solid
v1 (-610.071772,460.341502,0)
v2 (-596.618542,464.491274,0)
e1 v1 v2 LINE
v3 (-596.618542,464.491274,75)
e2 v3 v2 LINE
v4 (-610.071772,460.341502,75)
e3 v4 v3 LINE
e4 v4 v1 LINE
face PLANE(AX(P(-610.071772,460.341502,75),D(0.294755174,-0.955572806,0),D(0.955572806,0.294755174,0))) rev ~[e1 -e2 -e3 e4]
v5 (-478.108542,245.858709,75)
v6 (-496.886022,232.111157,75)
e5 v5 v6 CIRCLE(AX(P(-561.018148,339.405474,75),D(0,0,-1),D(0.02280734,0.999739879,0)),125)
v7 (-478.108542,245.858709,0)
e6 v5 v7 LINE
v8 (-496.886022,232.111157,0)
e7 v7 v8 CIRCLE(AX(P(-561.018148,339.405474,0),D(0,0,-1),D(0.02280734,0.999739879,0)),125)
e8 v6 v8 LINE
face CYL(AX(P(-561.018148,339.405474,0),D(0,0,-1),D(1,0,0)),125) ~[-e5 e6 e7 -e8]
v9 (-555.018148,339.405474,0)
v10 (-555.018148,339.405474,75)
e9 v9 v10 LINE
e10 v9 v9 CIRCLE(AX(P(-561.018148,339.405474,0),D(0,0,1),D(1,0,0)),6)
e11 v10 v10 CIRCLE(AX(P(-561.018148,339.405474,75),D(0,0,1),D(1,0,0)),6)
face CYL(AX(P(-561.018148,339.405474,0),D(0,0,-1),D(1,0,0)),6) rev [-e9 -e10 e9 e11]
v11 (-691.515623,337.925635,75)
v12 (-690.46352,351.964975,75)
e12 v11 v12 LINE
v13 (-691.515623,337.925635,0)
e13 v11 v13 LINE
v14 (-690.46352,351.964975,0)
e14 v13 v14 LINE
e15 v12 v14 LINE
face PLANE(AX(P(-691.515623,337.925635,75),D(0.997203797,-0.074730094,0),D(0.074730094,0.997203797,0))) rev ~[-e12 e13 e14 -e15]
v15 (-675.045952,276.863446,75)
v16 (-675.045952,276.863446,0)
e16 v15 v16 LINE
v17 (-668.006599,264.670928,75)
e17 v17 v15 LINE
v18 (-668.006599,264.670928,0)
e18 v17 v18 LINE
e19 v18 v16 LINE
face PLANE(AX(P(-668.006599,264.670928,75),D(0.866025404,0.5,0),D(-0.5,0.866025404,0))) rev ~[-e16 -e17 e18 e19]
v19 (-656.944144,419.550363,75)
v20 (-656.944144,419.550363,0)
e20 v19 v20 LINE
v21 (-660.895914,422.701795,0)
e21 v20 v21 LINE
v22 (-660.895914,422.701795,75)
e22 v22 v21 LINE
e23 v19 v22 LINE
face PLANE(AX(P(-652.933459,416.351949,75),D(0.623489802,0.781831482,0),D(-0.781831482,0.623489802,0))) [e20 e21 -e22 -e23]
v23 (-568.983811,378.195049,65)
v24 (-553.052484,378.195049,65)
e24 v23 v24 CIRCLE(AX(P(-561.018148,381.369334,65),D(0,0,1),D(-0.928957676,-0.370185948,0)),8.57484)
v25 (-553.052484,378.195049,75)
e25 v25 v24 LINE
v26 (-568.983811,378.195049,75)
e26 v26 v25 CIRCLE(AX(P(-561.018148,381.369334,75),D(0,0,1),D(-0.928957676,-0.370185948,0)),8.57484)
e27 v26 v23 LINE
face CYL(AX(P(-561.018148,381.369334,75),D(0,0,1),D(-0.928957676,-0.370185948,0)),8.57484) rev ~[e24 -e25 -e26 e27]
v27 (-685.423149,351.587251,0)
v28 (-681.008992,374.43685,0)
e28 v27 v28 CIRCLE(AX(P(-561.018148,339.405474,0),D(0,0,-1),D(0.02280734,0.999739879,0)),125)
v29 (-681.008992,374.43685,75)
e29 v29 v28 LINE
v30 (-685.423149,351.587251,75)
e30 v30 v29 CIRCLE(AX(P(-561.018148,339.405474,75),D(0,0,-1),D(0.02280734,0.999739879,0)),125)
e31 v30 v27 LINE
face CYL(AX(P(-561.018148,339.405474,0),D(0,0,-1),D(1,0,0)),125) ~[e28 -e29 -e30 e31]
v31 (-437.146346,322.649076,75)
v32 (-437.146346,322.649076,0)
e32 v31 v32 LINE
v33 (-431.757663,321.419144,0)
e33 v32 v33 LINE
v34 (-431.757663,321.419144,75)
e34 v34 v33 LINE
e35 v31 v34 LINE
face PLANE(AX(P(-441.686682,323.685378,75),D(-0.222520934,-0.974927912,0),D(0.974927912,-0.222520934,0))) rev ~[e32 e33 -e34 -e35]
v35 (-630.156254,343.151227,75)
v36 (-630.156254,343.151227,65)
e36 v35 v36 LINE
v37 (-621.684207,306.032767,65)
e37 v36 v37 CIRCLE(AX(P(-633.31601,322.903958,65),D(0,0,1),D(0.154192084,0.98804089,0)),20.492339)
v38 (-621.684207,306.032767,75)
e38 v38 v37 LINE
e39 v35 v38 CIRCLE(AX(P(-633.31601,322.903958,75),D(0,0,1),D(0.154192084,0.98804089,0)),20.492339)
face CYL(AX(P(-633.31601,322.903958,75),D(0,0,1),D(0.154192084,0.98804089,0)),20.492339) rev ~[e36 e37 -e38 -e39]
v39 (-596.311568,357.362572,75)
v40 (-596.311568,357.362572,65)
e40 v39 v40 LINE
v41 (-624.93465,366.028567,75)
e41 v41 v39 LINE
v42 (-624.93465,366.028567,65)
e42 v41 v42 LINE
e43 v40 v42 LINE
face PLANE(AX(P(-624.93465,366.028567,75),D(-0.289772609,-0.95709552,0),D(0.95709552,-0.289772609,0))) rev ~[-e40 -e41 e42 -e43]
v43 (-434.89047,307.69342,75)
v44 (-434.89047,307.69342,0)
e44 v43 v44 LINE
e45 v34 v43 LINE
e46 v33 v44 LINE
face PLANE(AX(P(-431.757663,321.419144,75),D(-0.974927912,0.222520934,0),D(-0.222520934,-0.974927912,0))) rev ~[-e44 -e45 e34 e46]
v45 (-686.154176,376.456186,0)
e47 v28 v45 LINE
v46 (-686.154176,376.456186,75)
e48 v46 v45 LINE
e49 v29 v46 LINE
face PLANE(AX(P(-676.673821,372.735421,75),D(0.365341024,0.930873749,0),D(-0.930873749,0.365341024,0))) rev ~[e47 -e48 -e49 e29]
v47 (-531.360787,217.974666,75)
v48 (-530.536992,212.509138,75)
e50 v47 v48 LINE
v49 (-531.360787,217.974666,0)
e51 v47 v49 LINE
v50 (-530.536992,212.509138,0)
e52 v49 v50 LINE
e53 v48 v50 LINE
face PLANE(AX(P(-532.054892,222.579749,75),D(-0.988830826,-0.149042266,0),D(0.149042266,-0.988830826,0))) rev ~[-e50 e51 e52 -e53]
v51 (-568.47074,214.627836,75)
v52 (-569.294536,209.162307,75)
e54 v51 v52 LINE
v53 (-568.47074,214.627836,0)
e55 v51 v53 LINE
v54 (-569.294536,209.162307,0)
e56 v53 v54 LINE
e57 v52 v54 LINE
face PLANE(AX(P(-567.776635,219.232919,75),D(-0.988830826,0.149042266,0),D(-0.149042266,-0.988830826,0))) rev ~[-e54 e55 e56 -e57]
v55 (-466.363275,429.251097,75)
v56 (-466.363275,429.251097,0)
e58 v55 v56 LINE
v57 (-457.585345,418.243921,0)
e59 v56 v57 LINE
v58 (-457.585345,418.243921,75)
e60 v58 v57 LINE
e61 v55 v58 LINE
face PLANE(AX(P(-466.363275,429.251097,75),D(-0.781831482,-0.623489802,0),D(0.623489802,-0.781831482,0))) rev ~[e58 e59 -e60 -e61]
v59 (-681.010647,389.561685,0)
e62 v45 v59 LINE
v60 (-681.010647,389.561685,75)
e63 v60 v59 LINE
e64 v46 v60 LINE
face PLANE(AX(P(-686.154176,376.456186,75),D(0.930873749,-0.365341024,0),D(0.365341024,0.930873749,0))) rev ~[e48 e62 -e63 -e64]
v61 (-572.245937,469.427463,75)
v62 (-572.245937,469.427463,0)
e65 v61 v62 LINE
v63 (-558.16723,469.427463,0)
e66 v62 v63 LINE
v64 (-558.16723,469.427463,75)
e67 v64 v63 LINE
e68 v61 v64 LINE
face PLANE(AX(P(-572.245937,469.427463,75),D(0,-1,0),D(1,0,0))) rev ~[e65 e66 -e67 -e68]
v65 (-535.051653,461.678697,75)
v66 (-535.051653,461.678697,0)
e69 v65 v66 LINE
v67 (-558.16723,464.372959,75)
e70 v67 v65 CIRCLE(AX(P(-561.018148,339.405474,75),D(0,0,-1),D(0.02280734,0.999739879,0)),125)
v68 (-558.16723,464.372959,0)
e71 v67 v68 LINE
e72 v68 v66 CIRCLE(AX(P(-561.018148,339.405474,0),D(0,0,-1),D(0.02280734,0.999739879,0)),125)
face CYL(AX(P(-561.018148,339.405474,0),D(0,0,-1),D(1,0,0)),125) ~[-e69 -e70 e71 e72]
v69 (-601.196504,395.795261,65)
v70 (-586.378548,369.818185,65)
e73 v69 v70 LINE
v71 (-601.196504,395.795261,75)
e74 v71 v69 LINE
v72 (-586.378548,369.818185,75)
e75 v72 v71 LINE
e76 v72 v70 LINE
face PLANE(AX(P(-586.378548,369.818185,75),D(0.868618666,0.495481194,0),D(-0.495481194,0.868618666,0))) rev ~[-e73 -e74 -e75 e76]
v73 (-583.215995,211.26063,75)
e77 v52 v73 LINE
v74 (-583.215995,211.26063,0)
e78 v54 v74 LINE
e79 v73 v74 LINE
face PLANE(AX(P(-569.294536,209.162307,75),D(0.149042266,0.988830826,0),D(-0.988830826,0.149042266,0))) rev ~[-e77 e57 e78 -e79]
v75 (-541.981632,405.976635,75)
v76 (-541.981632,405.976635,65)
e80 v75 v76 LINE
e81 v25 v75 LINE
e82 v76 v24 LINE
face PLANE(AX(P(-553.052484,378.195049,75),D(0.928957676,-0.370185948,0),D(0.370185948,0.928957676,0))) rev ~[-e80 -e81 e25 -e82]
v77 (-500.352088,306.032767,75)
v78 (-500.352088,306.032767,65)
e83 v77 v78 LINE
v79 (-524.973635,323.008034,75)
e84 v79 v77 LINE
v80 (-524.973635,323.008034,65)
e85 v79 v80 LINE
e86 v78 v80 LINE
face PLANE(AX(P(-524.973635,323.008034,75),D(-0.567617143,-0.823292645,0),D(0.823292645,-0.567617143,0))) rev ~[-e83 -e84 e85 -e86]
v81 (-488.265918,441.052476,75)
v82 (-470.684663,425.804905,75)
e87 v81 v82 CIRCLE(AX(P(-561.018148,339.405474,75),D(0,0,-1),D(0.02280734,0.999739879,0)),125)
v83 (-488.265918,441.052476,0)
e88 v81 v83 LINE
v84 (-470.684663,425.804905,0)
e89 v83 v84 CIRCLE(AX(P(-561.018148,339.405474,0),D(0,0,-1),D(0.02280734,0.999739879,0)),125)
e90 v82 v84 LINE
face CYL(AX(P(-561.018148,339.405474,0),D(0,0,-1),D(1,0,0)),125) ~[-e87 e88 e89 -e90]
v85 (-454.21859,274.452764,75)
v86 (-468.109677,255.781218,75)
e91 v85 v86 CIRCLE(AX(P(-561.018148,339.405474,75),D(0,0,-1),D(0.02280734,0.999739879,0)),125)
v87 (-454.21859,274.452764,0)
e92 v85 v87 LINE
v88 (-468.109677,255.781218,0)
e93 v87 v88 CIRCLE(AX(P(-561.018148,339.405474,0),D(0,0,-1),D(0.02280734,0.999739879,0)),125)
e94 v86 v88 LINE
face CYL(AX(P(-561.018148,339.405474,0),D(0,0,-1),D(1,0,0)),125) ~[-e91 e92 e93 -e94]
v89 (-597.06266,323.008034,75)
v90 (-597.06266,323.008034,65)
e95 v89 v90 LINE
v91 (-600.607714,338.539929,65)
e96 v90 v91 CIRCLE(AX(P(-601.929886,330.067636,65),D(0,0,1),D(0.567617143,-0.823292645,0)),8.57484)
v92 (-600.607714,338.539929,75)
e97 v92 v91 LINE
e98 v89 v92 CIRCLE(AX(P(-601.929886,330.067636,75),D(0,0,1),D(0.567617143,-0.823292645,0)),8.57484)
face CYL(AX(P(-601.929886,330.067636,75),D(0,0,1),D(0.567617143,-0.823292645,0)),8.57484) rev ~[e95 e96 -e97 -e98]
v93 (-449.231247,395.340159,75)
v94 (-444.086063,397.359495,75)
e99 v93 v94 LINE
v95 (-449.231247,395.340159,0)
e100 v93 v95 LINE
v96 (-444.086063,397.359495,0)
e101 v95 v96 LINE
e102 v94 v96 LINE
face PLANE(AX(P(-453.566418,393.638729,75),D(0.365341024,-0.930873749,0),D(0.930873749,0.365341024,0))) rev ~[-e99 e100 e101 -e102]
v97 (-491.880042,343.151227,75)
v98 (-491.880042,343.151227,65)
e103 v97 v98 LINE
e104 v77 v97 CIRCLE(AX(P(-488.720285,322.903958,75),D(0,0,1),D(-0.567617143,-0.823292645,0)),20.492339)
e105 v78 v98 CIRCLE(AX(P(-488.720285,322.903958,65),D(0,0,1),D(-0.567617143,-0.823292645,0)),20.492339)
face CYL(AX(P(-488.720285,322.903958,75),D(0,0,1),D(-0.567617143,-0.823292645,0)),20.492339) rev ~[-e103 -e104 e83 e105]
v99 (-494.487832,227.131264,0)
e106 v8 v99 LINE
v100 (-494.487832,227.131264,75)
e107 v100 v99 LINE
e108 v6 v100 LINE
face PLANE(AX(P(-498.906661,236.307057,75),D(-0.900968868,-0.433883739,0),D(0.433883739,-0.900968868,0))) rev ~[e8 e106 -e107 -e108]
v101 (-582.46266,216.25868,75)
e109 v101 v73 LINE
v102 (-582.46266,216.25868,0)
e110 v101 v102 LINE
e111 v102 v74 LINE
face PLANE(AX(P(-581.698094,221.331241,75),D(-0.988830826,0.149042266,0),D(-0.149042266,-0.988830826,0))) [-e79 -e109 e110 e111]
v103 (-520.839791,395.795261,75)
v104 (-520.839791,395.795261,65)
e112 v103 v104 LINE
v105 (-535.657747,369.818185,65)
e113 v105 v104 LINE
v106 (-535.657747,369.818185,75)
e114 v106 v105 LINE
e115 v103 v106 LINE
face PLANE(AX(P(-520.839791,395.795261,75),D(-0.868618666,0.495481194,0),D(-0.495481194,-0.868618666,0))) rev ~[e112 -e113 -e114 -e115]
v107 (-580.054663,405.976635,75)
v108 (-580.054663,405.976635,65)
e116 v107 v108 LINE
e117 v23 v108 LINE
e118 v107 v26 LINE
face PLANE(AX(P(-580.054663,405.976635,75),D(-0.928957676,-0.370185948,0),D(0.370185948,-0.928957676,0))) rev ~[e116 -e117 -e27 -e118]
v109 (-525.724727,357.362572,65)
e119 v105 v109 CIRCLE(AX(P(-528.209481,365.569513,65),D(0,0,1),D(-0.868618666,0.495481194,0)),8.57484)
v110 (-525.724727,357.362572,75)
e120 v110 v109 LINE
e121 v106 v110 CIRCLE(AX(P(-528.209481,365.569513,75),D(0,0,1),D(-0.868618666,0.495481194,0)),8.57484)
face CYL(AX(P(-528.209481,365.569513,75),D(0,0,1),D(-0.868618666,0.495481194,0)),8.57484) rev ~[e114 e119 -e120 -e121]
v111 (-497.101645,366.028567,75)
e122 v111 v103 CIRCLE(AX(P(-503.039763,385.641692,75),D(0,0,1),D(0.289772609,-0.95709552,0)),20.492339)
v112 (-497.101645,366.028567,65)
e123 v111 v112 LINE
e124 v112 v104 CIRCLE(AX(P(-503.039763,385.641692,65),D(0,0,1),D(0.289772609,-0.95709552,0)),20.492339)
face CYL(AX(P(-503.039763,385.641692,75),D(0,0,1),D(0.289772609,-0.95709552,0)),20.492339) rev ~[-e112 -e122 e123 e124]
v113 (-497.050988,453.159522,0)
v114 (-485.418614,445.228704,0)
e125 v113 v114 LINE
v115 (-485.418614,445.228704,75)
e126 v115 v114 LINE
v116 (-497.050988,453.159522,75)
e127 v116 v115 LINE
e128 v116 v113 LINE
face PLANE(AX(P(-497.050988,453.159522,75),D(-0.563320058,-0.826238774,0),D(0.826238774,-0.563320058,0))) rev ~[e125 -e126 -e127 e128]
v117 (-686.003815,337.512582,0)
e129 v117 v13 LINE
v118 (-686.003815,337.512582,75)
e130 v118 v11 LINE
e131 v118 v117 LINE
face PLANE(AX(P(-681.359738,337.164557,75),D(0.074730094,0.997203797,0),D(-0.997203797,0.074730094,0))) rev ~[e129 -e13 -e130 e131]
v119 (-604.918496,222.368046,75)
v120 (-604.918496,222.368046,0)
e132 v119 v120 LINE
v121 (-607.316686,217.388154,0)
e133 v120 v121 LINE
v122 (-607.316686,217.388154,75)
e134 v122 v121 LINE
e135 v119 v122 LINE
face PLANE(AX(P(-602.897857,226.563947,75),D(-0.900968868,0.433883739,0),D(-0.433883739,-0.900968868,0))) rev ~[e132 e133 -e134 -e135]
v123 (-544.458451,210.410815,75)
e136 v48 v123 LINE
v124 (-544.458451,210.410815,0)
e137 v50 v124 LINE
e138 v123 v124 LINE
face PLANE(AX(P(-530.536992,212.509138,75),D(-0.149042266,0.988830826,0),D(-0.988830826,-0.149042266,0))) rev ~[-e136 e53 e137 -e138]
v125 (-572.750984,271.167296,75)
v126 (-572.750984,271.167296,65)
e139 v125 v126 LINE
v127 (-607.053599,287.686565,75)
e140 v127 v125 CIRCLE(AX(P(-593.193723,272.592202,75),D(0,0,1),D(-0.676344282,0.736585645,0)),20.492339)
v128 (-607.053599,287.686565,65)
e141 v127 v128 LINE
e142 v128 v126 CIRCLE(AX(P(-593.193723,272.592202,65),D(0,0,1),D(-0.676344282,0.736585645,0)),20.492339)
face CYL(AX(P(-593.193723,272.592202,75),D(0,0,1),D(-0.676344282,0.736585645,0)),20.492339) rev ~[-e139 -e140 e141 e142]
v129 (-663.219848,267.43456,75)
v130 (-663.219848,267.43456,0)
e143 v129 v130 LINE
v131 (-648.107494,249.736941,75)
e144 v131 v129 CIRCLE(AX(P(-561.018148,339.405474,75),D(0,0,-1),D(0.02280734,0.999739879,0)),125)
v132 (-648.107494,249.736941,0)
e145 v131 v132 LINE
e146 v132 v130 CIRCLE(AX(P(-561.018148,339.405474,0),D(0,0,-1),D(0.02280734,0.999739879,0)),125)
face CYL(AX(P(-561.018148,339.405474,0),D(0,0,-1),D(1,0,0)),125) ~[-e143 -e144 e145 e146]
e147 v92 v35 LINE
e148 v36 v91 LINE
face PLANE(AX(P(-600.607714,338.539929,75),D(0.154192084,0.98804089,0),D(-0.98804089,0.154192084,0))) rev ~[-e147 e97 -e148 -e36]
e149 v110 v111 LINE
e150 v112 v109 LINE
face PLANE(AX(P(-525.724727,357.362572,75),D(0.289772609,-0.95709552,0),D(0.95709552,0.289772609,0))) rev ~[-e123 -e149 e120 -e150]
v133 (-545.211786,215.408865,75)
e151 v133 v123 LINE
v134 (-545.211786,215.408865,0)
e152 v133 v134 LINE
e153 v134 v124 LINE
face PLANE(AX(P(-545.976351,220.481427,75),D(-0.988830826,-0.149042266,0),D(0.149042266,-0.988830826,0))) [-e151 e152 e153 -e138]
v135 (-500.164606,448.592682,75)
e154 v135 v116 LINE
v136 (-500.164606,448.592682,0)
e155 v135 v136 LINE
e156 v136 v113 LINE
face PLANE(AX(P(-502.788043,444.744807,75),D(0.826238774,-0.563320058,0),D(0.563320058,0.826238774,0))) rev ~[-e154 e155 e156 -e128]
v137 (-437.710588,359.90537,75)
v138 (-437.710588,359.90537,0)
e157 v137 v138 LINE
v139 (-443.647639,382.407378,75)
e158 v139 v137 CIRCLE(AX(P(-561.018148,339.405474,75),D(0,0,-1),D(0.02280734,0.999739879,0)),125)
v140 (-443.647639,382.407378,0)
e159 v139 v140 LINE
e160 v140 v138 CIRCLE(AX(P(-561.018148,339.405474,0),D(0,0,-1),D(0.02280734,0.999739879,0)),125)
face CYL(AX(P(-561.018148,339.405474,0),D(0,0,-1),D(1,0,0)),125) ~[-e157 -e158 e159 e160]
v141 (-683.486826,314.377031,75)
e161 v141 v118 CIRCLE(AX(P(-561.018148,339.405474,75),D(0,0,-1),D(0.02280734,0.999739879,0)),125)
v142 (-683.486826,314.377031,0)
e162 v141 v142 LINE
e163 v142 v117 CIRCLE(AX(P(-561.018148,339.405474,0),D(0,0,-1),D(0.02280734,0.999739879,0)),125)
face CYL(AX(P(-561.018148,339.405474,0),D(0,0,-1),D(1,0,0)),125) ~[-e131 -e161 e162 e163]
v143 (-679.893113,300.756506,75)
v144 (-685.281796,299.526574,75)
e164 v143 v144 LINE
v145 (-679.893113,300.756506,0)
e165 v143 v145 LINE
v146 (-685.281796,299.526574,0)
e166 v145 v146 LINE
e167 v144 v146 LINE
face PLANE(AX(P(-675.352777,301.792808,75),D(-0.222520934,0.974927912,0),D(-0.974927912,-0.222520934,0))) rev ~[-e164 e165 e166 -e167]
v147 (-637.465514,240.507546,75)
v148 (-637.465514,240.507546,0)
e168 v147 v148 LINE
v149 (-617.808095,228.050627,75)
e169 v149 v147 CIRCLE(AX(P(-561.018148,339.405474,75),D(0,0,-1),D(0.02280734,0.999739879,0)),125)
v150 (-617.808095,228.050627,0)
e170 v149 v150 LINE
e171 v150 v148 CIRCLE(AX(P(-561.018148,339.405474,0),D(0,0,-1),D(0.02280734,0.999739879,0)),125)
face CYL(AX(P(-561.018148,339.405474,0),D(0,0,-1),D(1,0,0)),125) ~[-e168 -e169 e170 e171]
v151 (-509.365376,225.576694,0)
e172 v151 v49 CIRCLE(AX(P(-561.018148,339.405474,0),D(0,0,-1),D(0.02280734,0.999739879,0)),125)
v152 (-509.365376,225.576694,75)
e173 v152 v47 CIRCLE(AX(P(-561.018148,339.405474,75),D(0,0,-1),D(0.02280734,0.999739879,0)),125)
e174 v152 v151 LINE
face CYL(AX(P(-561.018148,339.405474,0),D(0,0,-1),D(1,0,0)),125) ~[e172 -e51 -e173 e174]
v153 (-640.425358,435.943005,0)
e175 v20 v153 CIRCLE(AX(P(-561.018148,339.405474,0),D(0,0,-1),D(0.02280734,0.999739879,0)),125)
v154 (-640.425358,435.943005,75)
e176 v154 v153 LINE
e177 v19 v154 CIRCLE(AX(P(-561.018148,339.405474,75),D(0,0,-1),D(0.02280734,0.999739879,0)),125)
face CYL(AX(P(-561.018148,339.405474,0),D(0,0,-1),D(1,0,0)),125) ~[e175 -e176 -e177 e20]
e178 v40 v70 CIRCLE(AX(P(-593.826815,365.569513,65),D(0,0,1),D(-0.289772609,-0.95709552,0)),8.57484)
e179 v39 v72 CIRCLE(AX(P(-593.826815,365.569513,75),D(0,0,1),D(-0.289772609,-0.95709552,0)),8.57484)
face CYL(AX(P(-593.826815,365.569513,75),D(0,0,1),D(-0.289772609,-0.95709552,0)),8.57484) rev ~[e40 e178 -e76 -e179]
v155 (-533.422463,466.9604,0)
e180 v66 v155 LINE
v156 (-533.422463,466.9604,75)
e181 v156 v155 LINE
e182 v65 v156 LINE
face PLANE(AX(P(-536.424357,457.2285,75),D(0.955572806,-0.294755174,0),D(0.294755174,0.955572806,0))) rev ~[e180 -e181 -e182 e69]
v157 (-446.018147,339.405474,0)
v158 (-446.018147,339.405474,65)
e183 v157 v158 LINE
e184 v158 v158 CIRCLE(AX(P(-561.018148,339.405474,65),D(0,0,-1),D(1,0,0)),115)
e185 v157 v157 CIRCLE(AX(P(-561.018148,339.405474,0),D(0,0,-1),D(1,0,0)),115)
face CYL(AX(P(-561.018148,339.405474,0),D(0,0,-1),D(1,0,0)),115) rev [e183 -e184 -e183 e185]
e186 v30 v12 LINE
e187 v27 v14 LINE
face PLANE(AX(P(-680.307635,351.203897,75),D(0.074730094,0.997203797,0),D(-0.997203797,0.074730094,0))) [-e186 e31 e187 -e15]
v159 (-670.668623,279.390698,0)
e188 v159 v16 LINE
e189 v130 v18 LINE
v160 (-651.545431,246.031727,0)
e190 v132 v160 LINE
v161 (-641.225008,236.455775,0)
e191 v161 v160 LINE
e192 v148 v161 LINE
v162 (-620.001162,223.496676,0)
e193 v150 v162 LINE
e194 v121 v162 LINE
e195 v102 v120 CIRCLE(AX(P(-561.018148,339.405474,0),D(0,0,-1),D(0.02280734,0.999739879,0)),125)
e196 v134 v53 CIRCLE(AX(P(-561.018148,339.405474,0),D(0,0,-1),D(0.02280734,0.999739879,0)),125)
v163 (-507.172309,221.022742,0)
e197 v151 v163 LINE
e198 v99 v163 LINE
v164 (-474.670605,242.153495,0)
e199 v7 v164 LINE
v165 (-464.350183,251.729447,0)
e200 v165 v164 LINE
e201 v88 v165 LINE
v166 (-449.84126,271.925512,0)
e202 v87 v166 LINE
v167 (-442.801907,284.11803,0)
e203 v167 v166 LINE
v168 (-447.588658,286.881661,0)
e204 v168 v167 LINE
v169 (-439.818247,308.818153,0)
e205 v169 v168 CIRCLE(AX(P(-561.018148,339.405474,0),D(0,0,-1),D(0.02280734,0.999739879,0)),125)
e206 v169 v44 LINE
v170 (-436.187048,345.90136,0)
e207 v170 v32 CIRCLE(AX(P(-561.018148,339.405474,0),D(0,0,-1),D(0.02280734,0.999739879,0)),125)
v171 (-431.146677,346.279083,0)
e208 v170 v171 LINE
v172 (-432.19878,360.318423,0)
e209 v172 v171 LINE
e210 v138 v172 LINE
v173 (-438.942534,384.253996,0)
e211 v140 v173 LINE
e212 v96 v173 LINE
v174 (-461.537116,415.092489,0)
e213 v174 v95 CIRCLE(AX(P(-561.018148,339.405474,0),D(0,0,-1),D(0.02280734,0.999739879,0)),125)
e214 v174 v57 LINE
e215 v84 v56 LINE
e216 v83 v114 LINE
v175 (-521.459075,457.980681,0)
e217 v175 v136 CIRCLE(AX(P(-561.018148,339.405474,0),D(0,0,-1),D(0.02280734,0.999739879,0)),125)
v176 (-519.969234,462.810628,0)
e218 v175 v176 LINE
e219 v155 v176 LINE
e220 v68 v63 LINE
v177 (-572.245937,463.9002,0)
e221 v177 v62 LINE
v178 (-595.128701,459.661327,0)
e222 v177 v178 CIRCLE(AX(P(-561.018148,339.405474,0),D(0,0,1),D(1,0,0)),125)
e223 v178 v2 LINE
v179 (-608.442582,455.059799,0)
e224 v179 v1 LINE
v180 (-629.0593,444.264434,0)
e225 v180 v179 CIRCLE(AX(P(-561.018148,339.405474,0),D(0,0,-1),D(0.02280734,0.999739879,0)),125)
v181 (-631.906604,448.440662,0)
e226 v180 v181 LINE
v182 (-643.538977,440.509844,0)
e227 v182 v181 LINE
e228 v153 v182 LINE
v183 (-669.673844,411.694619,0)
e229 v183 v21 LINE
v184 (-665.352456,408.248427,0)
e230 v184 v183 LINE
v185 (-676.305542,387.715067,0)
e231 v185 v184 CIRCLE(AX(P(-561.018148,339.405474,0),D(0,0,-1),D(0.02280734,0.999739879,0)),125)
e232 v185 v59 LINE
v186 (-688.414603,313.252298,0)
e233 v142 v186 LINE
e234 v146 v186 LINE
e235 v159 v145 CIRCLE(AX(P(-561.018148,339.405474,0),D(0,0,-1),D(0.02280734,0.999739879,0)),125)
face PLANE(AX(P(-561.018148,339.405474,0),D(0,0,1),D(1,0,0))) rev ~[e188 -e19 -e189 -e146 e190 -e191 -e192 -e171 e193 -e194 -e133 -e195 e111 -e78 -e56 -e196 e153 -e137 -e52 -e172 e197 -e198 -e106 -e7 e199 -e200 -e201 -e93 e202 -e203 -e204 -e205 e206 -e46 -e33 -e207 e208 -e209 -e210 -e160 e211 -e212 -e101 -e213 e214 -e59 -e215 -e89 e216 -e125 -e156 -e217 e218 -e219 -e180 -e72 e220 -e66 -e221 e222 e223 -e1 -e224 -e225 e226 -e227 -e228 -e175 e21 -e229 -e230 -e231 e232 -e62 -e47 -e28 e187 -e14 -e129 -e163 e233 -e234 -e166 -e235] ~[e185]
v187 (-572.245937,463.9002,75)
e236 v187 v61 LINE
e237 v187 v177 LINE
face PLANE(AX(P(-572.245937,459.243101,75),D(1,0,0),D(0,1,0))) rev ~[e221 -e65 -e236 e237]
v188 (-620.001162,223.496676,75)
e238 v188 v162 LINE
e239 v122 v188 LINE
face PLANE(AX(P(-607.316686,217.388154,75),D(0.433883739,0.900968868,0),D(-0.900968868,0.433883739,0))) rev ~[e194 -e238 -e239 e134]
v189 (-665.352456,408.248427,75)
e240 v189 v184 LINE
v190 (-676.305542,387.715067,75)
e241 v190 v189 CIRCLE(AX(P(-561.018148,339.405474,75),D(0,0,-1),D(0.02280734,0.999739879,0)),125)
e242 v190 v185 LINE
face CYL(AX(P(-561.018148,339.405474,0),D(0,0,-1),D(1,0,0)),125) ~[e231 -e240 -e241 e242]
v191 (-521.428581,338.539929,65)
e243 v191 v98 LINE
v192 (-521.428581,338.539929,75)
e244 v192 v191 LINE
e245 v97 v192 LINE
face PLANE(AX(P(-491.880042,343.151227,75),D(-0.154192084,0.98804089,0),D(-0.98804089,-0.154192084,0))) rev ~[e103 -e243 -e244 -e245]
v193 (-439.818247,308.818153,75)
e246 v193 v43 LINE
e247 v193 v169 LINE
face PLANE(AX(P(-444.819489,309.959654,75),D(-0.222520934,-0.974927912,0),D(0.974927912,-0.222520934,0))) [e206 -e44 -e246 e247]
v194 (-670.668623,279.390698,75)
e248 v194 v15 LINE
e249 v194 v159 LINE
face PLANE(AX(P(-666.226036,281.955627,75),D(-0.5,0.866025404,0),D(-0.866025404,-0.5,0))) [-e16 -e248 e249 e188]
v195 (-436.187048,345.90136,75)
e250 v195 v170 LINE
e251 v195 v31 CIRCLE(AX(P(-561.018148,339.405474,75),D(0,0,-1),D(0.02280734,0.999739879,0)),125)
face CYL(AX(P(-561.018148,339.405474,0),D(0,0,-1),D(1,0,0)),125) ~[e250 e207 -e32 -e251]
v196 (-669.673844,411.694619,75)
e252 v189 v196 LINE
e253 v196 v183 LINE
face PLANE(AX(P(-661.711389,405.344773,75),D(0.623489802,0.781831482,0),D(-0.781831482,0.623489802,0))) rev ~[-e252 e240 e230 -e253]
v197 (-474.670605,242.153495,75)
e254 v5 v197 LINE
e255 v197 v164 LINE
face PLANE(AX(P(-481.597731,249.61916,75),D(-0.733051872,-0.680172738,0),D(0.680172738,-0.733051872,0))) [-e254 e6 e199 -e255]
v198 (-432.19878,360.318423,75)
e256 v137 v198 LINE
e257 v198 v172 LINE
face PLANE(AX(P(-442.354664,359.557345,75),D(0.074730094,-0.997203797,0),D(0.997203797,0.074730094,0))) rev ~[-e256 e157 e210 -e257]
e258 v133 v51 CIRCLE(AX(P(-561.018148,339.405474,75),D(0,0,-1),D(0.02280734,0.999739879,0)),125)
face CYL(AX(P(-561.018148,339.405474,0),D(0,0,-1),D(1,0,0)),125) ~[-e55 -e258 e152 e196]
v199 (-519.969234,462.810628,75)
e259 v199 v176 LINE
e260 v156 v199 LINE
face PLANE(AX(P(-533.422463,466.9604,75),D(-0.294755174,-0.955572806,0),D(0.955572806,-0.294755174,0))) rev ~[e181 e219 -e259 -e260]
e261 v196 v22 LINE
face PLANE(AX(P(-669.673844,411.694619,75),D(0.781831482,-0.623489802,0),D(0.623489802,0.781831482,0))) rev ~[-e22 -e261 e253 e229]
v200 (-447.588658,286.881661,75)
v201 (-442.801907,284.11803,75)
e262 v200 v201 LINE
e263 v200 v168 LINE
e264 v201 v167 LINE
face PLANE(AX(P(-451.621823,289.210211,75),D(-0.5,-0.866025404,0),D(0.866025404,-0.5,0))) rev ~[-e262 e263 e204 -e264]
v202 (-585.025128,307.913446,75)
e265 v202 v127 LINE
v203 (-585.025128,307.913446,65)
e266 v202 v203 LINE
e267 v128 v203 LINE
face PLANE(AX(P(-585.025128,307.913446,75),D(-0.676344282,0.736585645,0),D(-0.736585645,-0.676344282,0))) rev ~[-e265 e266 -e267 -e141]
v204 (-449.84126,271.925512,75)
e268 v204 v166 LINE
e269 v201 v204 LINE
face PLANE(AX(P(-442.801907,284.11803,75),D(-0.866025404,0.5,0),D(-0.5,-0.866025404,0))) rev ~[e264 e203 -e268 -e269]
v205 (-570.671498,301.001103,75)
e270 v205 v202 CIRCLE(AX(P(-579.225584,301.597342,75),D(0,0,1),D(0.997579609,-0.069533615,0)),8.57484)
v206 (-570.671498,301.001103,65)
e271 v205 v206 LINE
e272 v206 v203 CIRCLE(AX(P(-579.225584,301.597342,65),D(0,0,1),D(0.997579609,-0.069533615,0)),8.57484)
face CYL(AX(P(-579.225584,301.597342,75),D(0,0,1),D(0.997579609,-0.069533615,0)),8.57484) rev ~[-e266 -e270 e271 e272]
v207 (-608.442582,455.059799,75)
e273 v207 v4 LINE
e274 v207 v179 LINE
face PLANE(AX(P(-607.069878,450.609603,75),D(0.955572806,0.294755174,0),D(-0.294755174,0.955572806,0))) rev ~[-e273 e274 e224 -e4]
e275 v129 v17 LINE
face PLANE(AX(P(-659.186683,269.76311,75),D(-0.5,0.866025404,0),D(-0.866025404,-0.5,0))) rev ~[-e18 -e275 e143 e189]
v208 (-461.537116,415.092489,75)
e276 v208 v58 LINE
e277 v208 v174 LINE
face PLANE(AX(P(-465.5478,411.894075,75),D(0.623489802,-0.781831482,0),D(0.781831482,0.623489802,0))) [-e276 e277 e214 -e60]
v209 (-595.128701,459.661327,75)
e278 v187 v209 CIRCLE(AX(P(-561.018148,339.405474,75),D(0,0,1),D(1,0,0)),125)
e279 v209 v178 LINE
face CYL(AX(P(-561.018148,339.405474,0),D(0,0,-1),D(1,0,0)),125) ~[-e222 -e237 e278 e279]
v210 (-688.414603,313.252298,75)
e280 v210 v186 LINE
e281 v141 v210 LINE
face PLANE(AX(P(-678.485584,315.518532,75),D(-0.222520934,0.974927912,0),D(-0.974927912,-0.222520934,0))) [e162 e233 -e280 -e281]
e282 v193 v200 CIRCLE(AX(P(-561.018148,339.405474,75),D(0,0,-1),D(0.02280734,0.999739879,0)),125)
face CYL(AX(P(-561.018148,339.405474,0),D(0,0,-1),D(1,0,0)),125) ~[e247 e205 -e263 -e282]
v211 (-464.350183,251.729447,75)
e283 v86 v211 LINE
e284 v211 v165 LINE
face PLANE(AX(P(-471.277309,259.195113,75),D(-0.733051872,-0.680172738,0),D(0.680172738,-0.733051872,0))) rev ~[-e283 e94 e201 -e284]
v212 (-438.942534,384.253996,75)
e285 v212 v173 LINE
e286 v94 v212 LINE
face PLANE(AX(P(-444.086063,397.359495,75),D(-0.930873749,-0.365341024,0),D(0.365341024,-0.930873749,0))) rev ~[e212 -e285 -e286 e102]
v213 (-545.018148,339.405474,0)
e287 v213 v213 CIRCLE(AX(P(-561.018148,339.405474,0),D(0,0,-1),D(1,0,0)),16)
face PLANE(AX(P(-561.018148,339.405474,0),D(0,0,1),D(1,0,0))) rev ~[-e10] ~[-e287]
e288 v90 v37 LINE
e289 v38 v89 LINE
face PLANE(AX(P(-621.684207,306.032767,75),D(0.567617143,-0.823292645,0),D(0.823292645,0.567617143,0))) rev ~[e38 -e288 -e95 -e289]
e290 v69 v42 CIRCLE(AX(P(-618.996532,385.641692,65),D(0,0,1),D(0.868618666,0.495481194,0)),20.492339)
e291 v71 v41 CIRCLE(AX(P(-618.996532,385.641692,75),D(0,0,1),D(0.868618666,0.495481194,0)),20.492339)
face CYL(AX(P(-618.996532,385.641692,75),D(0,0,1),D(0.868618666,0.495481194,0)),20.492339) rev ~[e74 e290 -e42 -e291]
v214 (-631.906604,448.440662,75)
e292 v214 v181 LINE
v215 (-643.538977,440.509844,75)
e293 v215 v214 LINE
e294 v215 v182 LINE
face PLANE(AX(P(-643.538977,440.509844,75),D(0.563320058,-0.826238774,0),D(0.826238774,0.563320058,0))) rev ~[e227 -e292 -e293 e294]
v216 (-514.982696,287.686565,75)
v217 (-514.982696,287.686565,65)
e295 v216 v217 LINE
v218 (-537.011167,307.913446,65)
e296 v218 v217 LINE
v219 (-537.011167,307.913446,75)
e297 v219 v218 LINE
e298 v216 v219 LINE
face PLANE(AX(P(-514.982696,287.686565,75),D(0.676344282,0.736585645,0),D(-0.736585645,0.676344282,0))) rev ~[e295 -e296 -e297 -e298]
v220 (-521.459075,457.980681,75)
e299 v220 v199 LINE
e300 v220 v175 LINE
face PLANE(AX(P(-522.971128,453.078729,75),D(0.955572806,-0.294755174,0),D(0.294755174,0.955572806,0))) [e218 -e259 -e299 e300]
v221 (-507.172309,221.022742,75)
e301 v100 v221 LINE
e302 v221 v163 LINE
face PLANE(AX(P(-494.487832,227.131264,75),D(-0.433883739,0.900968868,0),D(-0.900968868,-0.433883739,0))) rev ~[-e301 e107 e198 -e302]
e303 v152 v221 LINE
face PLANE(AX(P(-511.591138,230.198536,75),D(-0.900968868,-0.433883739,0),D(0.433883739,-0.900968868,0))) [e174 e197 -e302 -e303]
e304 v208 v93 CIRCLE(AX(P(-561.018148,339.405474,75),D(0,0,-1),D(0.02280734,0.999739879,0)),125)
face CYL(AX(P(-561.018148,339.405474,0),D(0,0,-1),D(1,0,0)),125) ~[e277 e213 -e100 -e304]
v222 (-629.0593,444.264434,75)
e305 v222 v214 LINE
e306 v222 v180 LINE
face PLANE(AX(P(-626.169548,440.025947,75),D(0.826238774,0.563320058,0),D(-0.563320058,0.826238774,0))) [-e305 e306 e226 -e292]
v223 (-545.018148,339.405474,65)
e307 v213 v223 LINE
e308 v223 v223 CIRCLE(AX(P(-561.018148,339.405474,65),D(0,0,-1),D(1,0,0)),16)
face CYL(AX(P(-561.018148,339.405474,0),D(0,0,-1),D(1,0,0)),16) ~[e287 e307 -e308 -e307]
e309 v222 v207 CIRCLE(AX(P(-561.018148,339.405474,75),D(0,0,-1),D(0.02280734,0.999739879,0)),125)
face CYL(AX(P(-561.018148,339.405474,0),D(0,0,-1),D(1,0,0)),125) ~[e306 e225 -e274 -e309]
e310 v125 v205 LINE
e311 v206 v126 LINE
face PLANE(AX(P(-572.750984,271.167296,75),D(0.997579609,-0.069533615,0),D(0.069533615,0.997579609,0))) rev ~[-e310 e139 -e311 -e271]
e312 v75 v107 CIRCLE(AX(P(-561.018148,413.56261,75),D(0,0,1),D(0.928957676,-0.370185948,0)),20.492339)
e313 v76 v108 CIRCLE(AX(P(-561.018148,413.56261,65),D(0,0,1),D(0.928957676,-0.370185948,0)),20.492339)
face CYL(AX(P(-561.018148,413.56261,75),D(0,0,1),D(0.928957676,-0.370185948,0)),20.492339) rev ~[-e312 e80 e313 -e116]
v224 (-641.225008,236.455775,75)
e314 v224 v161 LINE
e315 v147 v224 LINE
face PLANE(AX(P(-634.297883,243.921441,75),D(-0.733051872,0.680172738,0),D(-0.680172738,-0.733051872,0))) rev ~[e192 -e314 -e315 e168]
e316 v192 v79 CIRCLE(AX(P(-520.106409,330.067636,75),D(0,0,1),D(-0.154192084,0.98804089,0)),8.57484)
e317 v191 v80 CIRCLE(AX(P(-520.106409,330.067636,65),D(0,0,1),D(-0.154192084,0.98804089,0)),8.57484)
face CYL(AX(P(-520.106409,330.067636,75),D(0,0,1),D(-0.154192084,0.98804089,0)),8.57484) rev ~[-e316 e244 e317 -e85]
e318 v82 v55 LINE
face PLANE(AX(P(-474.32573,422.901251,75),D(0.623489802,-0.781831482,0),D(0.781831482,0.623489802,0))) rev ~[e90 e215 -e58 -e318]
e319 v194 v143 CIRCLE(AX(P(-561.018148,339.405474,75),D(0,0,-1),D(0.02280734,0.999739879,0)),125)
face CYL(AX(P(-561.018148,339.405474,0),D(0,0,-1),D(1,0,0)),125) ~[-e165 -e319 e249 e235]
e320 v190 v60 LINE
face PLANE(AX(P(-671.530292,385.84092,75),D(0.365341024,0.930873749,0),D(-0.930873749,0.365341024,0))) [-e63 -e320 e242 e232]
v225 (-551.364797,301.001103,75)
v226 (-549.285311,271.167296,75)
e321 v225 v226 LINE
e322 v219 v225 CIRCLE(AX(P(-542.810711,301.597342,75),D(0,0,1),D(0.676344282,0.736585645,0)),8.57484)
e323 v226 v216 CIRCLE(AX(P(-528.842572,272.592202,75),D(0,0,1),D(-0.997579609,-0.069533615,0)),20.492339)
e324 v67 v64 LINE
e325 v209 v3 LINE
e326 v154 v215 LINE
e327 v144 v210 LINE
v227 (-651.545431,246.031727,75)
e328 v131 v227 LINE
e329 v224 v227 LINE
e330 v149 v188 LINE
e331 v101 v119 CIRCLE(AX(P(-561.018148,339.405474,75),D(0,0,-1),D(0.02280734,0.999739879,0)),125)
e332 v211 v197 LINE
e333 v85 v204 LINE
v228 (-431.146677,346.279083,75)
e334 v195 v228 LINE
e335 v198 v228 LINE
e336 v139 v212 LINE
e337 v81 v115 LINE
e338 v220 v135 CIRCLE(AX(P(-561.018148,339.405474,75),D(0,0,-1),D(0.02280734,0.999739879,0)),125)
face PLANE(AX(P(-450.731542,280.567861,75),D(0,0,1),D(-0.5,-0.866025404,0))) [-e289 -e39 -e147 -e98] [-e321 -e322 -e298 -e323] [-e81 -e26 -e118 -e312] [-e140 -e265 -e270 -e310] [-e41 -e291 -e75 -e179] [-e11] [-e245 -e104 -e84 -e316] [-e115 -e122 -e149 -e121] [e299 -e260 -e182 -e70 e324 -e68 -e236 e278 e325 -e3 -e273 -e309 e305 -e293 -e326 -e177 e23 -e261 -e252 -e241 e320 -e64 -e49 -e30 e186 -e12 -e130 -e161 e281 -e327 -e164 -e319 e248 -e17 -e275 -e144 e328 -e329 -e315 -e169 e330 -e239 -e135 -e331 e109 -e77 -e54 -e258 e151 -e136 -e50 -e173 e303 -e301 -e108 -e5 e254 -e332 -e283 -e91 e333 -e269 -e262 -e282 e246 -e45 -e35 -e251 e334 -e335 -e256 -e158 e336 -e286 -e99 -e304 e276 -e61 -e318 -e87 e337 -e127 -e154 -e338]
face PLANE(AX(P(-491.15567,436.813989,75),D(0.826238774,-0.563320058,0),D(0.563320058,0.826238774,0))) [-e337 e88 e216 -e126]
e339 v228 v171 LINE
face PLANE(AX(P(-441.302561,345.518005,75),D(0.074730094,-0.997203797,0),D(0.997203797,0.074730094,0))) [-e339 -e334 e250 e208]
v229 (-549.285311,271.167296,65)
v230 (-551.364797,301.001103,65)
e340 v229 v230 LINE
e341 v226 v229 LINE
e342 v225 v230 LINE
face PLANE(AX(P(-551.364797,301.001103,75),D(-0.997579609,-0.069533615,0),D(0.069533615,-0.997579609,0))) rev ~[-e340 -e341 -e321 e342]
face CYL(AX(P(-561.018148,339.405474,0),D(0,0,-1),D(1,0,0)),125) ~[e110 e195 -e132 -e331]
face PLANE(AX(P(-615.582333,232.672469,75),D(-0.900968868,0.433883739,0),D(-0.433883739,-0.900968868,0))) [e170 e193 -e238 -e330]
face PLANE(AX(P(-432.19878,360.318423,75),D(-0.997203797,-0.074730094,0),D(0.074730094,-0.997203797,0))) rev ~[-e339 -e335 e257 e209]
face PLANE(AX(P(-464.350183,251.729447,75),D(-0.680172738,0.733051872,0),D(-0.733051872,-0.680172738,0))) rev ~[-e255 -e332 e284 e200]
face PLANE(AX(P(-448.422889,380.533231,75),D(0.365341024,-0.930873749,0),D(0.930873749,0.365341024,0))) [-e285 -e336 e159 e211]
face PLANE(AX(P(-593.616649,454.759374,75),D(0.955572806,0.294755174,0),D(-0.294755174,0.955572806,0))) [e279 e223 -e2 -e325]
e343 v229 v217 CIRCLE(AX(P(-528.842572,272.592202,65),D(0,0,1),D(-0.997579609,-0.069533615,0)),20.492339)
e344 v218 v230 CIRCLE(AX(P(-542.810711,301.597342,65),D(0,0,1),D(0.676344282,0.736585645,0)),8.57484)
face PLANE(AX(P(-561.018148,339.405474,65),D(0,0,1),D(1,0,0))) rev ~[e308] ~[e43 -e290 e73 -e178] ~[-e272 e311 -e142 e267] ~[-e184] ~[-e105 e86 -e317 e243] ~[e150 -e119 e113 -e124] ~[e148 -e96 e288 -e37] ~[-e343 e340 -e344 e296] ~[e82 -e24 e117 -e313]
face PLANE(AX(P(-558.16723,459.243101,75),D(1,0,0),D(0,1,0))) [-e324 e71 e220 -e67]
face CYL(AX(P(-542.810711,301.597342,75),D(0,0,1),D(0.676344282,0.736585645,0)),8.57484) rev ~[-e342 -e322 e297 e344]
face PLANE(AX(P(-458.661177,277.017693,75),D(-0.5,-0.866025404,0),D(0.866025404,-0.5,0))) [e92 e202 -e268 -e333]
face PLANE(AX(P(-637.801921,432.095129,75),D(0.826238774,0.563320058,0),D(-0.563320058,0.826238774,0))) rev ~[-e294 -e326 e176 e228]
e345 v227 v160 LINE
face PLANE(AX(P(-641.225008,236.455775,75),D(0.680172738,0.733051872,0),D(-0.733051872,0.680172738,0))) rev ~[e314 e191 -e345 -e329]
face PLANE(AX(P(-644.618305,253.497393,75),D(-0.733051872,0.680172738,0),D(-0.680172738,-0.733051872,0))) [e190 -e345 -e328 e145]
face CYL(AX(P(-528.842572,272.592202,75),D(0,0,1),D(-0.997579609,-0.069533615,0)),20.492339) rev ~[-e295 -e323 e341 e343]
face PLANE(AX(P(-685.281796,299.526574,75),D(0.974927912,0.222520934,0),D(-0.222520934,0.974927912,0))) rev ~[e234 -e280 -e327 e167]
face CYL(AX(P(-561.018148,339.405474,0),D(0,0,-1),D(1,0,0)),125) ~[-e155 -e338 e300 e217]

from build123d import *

# Parameters (mm, degrees)
SKETCH1_R           = 125.000000063
SKETCH1_R_2         = 6
BOSS_EXTRUDE1_DEPTH = 75
SHELL1_T            = -10
SKETCH2_W           = 14.078706662
SKETCH2_H           = 10.184362198
BOSS_EXTRUDE2_DEPTH = 75
CIRPATTERN1_COUNT   = 21
CUT_EXTRUDE1_REACH  = 841.155
CIRPATTERN2_COUNT   = 7


with BuildPart() as part:
    # Sketch1 → Boss-Extrude1 (new body)
    with BuildSketch(Plane.XY):
        with Locations((-561.018147545, 339.405473748)):
            Circle(SKETCH1_R)
        with Locations((-561.018147545, 339.405473748)):
            Circle(SKETCH1_R_2, mode=Mode.SUBTRACT)
    extrude(amount=BOSS_EXTRUDE1_DEPTH)

    # Shell1
    shell1_openings = [part.faces().sort_by_distance(p)[0] for p in [
        (-682.482613701, 339.405473748, 0),
    ]]
    offset(amount=SHELL1_T, openings=shell1_openings, kind=Kind.INTERSECTION)

    # Sketch2 → Boss-Extrude2 (add)
    with BuildSketch(Plane.XY.offset(75)):
        with Locations((-565.206583335, 464.335282126)):
            Rectangle(SKETCH2_W, SKETCH2_H)
    boss_extrude2 = extrude(amount=-BOSS_EXTRUDE2_DEPTH)

    # CirPattern1: Boss-Extrude2 ×21 about axis
    cirpattern1_axis = Axis((-561.018147545, 339.405473748, 0), (0, 0, 1))
    for i in range(1, CIRPATTERN1_COUNT):
        add(boss_extrude2.rotate(cirpattern1_axis, i * 360 / CIRPATTERN1_COUNT))

    # Sketch3 → Cut-Extrude1 (cut, up to next)
    with BuildSketch(Plane.XY.offset(75), mode=Mode.PRIVATE) as cut_extrude1_sk1:
        with BuildLine():
            Line((-580.05466288, 405.976634587), (-568.983811085, 378.195048585))
            ThreePointArc((-568.983811085, 378.195048585), (-561.018147545, 372.794493792), (-553.052484006, 378.195048585))
            Line((-553.052484006, 378.195048585), (-541.981632211, 405.976634587))
            ThreePointArc((-541.981632211, 405.976634587), (-561.018147545, 434.054949118), (-580.05466288, 405.976634587))
        make_face()
    cut_extrude1_tool1 = extrude(cut_extrude1_sk1.sketch, amount=-CUT_EXTRUDE1_REACH, mode=Mode.PRIVATE) & part.part
    cut_extrude1 = cut_extrude1_tool1.solids().sort_by_distance((-561.018148, 406.56206, 75))[0]
    add(cut_extrude1, mode=Mode.SUBTRACT)

    # CirPattern2: Cut-Extrude1 ×7 about axis
    cirpattern2_axis = Axis((-561.018147545, 339.405473748, 0), (0, 0, 1))
    for i in range(1, CIRPATTERN2_COUNT):
        add(cut_extrude1.rotate(cirpattern2_axis, i * 360 / CIRPATTERN2_COUNT), mode=Mode.SUBTRACT)


solid = part.part
